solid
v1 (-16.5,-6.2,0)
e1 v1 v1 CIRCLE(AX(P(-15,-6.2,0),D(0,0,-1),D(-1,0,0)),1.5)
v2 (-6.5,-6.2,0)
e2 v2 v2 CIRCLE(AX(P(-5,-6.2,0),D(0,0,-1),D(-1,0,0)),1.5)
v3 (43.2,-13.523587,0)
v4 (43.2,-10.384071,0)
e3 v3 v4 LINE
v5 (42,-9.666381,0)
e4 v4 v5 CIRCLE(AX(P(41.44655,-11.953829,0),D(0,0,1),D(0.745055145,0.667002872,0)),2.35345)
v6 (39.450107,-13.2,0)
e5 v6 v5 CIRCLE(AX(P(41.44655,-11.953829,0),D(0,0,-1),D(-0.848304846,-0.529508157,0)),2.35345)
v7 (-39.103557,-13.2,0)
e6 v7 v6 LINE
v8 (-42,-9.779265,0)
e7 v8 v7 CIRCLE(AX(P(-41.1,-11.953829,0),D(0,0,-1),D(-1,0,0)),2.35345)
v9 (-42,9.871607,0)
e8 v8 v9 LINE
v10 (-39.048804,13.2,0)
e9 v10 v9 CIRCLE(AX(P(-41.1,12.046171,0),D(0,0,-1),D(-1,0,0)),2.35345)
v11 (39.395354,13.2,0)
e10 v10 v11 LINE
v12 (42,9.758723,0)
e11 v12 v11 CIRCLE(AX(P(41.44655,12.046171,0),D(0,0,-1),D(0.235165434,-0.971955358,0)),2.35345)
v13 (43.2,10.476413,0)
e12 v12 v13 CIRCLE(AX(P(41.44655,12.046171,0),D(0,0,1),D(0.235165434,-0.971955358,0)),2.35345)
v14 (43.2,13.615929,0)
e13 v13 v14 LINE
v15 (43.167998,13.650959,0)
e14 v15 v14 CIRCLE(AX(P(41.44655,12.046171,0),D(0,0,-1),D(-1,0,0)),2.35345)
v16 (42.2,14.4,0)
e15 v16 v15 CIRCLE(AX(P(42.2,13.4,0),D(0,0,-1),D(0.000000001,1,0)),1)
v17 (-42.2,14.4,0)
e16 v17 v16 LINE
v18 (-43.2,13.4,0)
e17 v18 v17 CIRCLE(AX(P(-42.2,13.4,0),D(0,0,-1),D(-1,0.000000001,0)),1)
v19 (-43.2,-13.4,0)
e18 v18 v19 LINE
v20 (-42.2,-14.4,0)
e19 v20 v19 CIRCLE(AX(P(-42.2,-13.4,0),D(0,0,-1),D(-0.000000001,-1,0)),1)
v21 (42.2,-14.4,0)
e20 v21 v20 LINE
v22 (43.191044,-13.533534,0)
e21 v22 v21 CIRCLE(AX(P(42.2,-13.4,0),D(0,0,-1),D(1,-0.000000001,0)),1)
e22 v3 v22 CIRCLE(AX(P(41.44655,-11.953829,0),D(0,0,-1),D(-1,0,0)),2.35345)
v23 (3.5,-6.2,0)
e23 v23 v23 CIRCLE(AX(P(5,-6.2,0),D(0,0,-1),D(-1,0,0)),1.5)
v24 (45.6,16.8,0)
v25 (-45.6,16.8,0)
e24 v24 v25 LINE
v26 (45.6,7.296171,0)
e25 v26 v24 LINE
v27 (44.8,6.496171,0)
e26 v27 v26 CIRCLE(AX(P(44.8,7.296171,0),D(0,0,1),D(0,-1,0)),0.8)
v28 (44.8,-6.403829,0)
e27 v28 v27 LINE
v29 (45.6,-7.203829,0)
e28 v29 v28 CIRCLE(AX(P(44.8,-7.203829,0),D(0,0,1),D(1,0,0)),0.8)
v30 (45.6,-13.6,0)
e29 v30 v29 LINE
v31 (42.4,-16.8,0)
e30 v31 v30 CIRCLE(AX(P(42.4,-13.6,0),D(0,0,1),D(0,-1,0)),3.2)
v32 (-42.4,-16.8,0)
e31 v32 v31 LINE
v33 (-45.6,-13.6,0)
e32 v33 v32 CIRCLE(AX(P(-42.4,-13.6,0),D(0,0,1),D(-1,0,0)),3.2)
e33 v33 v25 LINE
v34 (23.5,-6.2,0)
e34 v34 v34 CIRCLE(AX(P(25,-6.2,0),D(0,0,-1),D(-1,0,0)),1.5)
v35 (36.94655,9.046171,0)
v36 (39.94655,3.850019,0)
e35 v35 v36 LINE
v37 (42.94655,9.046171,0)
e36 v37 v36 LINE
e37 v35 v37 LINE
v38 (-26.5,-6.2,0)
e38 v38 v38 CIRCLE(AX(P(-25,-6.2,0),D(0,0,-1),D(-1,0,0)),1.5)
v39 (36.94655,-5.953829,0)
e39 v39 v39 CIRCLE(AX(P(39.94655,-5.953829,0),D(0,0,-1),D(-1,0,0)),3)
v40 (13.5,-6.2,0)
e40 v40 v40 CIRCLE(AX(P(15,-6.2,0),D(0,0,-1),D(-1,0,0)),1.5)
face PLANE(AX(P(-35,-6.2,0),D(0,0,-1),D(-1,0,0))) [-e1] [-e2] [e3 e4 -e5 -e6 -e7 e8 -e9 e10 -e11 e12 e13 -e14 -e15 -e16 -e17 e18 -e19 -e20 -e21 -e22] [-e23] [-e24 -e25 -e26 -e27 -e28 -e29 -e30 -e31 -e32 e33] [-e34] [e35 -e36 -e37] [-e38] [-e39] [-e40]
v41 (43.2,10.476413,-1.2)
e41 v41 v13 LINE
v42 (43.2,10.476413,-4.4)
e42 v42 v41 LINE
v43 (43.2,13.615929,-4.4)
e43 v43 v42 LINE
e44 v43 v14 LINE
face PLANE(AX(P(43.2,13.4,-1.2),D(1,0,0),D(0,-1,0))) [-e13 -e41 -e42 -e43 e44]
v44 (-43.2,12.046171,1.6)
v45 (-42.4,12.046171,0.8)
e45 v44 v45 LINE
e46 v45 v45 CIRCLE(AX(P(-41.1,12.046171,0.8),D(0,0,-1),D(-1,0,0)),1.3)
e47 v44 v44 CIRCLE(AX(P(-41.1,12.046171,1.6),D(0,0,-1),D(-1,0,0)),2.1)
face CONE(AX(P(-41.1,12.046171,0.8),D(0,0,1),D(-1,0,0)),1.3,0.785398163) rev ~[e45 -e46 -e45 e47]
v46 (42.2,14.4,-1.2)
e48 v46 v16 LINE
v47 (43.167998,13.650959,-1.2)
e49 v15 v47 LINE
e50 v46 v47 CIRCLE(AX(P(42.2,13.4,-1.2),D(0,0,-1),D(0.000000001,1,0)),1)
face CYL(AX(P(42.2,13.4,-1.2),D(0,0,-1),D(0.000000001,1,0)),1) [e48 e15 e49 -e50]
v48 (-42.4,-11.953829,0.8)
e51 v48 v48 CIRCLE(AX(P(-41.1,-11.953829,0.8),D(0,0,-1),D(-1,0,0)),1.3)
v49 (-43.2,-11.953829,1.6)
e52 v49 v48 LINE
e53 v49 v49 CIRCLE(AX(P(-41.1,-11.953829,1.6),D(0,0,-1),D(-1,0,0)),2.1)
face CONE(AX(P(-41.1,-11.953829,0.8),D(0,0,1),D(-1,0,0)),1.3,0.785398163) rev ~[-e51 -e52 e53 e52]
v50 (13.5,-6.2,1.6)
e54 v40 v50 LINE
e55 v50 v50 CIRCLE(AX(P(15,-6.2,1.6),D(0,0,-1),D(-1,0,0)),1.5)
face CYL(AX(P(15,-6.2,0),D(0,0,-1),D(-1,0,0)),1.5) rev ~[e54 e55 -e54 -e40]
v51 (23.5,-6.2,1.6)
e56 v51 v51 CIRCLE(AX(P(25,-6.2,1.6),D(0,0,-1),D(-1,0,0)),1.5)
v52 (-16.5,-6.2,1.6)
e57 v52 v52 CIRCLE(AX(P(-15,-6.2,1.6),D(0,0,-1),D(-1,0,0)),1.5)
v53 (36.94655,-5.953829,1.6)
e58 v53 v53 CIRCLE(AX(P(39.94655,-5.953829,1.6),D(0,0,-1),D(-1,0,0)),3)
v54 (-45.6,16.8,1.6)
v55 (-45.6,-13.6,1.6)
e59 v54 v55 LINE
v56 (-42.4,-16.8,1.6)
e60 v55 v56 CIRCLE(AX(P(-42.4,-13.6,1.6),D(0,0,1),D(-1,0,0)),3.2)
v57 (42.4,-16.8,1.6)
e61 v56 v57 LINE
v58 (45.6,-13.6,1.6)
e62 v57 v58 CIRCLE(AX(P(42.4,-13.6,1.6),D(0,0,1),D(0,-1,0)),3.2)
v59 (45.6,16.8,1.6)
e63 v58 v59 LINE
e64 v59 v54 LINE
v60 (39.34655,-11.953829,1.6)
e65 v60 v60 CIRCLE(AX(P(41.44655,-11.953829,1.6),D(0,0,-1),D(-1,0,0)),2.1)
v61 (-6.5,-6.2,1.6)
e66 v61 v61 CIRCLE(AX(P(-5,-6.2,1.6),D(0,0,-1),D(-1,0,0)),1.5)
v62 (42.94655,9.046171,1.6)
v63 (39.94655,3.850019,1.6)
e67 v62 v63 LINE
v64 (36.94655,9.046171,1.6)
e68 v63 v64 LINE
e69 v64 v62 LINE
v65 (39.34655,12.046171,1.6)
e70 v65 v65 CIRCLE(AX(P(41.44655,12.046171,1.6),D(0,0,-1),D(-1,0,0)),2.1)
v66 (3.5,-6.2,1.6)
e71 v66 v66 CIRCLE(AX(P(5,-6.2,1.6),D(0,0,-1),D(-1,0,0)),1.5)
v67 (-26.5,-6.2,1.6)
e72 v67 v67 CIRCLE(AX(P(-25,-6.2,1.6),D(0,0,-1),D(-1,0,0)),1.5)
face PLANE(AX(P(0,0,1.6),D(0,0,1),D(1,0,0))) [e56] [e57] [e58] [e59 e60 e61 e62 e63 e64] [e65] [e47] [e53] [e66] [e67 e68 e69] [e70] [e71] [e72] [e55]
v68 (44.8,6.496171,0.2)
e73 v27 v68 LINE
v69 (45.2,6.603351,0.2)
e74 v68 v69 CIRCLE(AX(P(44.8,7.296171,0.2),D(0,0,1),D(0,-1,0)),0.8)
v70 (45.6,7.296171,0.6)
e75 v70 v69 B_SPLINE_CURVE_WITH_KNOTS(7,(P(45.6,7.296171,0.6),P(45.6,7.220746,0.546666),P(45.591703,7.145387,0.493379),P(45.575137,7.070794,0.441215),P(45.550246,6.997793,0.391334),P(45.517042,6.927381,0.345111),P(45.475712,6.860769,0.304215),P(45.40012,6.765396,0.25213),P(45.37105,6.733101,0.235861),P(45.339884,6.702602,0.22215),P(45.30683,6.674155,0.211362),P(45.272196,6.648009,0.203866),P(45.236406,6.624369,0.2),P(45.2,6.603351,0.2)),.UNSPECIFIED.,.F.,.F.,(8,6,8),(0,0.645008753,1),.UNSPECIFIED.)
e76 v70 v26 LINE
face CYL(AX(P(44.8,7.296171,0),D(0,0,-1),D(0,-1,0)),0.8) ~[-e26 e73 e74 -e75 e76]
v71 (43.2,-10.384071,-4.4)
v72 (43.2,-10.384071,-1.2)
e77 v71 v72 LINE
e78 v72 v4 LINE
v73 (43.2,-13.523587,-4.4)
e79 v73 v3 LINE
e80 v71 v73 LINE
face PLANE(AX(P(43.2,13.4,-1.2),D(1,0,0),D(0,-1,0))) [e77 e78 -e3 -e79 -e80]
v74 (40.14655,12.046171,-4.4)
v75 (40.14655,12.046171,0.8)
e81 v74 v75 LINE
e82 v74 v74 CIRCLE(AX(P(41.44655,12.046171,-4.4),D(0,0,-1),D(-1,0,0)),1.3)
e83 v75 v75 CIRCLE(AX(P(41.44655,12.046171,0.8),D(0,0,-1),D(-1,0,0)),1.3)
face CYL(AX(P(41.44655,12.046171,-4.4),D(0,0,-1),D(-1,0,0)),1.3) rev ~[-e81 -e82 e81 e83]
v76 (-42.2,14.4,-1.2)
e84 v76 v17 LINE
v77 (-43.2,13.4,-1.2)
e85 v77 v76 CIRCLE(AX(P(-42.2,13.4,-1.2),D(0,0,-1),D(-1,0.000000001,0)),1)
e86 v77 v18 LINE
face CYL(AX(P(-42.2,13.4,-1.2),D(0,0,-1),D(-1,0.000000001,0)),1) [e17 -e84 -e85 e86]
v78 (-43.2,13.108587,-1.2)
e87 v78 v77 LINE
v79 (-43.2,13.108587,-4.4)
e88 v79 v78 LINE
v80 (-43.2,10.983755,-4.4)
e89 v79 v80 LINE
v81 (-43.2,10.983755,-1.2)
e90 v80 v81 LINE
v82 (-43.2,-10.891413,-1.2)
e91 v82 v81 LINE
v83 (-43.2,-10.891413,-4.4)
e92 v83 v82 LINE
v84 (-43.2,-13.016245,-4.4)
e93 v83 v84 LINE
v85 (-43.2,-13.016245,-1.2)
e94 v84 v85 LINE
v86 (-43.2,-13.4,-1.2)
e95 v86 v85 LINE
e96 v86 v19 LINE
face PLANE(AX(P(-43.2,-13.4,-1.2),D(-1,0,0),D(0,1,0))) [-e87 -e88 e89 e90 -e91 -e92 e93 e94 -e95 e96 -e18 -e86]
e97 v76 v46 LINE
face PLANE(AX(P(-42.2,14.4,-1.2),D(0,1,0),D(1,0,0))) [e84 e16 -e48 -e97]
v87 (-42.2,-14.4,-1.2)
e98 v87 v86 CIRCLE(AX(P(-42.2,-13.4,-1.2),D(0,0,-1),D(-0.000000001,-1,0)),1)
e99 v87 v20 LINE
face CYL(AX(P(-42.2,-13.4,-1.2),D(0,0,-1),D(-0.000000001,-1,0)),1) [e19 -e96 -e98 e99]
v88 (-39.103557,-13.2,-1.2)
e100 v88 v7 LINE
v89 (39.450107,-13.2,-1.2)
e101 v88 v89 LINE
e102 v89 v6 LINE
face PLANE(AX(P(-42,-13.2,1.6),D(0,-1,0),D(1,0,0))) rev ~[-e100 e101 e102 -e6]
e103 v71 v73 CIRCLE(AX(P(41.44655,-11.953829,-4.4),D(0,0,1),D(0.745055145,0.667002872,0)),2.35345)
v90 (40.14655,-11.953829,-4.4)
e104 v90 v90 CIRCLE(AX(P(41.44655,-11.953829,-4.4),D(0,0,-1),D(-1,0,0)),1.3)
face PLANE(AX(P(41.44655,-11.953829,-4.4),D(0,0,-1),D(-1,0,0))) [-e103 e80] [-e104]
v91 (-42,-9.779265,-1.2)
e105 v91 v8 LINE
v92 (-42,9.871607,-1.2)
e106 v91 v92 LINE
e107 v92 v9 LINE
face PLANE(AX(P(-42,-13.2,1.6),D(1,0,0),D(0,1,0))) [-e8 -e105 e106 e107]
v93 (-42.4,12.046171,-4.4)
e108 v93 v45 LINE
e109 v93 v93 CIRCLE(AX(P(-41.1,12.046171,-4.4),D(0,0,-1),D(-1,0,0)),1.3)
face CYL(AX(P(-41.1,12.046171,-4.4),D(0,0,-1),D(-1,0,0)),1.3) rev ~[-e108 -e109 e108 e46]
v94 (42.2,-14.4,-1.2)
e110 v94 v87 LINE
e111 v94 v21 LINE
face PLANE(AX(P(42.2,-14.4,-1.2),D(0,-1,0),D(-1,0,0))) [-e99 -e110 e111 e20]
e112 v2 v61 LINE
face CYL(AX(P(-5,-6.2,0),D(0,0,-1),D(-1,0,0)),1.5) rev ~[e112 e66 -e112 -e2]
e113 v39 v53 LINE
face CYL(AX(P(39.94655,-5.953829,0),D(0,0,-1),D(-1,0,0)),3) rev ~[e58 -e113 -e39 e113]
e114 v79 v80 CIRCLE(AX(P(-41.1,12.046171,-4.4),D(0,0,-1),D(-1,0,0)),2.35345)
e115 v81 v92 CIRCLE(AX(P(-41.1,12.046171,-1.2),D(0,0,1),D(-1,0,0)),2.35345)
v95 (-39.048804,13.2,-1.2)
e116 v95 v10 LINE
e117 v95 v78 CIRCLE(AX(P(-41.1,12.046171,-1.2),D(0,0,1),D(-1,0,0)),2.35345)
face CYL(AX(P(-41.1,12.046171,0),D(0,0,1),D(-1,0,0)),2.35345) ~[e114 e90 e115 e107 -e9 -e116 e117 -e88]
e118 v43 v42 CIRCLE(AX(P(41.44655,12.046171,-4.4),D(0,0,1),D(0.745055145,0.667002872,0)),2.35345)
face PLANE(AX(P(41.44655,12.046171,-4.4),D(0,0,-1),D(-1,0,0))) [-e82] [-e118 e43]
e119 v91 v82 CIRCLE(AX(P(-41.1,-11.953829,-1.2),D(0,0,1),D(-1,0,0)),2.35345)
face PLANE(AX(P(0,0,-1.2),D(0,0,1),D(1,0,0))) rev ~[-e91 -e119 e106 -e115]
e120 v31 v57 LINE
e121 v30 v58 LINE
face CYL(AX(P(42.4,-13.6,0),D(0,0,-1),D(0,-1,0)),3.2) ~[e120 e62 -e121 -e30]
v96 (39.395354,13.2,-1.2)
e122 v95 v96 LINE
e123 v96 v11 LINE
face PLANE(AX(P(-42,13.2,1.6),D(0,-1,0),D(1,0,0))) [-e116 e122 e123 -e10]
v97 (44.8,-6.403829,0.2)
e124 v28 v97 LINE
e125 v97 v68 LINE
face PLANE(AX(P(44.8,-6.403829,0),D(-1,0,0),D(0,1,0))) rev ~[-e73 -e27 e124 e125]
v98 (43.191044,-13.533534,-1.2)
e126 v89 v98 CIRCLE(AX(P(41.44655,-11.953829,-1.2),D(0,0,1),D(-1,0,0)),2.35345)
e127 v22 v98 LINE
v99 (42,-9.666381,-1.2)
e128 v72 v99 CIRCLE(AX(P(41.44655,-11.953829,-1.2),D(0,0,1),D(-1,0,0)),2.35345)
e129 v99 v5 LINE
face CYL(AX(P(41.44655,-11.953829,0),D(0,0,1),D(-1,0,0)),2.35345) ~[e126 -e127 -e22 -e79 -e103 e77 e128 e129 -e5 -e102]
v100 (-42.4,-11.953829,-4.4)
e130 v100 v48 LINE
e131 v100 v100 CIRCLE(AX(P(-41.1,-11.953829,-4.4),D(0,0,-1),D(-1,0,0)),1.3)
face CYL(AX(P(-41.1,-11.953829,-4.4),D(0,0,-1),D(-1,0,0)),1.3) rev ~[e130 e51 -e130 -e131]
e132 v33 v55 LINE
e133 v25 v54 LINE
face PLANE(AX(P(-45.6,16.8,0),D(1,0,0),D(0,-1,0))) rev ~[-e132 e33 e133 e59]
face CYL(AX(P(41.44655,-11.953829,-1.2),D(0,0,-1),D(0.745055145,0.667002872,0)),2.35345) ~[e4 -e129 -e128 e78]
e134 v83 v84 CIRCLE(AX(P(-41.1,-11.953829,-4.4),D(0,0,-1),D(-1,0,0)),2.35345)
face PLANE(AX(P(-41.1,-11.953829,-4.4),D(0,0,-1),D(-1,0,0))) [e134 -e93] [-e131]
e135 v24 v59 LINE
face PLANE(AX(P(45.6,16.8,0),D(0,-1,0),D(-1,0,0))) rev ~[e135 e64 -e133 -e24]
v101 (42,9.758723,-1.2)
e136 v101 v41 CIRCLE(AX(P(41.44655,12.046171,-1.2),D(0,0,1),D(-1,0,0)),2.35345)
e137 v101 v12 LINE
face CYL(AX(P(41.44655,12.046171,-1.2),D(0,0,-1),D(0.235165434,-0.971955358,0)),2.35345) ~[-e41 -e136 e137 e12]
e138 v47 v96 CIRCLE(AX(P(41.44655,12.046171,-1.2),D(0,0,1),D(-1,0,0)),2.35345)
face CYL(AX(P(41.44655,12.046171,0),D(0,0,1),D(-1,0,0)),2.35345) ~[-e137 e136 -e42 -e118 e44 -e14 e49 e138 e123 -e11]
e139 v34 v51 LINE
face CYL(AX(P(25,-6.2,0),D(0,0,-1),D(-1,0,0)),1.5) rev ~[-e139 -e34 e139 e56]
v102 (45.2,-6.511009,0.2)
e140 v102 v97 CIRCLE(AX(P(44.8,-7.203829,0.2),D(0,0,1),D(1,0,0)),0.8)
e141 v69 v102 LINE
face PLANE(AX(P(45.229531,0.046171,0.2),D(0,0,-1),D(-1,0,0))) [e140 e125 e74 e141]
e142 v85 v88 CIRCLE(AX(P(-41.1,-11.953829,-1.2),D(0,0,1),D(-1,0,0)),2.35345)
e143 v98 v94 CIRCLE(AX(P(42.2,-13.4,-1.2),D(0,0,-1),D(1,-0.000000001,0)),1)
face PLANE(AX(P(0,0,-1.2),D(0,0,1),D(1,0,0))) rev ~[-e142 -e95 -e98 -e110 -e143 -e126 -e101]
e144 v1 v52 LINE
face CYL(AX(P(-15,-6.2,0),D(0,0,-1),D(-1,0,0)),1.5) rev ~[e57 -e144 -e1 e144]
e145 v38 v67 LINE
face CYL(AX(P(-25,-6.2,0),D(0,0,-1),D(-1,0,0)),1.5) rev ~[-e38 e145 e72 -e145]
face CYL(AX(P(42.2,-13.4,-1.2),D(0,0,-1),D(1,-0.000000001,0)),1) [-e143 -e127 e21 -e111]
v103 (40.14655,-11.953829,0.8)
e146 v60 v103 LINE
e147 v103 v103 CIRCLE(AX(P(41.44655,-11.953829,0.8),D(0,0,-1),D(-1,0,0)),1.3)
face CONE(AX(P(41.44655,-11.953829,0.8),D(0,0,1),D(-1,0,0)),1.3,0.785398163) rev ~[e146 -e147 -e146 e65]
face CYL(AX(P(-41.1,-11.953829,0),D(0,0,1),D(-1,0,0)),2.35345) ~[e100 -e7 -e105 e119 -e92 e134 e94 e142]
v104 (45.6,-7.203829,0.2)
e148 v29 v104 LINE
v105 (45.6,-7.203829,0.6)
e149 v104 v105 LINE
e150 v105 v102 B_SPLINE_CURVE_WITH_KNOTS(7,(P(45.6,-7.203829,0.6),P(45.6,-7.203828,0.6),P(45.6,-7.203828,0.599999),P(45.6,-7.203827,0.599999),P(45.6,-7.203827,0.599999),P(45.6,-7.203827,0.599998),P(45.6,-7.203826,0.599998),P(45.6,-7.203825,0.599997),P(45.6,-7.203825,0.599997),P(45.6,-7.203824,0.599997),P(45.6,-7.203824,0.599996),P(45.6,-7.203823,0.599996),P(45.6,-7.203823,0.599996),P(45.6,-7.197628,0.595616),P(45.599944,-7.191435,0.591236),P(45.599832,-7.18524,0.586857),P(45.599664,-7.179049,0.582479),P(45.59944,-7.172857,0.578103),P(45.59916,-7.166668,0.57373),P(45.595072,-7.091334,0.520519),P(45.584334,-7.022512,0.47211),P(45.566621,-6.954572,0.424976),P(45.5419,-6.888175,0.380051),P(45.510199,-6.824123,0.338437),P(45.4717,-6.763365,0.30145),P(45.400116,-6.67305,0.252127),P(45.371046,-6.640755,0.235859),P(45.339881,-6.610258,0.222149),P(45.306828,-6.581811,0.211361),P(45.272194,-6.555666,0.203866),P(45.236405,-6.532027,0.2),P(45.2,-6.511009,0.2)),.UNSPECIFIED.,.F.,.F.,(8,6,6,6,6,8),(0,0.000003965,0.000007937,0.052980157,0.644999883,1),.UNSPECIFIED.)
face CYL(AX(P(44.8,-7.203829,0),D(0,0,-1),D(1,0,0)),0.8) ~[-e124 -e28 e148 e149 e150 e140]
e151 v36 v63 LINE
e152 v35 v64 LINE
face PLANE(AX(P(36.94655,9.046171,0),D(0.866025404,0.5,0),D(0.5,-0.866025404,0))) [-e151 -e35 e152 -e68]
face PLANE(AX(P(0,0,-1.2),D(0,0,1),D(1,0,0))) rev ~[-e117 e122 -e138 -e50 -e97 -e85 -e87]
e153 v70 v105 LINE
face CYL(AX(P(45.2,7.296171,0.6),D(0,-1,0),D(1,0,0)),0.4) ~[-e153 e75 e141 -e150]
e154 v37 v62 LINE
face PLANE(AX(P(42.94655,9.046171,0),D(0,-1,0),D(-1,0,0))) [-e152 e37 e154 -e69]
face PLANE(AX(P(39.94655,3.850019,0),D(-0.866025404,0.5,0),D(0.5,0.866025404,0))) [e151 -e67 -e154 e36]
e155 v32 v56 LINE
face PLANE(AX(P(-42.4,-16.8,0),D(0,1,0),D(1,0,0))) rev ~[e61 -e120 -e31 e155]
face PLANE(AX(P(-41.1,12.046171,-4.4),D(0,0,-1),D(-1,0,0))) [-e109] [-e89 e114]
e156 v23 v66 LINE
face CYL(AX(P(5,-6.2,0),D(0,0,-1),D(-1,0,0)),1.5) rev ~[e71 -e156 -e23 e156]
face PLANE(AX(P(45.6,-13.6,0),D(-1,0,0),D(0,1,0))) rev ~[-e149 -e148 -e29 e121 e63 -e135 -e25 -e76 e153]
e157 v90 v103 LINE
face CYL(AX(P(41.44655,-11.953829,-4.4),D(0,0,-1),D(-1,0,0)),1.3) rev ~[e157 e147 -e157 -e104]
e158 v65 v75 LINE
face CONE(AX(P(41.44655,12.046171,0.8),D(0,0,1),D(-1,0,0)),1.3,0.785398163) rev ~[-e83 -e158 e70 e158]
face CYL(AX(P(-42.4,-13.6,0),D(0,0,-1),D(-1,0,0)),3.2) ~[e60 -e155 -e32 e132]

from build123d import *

# Parameters (mm, degrees)
EXTRUDE_1_DEPTH     = 1.6
SKETCH_3_W          = 84
SKETCH_3_H          = 26.4
EXTRUDE_1_2_DEPTH   = 2.8
CUT_EXTRUDE_1_DEPTH = 1.2
SKETCH_8_R          = 2.35345012
EXTRUDE_2_DEPTH     = 4.4
CUT_EXTRUDE_2_DEPTH = 0.2
FILLET_2_R          = 0.4
SKETCH_10_W         = 2.4
SKETCH_10_H         = 27.704592787
SKETCH_10_H_2       = 28.279400909
CUT_EXTRUDE_3_DEPTH = 12
SKETCH_11_R         = 1.3
CUT_EXTRUDE_4_DEPTH = 12
CHAMFER_1_SIZE      = 0.8
SKETCH_12_R         = 1.5
CUT_EXTRUDE_5_DEPTH = 12
SKETCH_13_R         = 3
CUT_EXTRUDE_6_DEPTH = 12
CUT_EXTRUDE_7_DEPTH = 1.2
SKETCH_15_R         = 1.5
EXTRUDE_4_DEPTH     = 1.6


with BuildPart() as part:
    # Эскиз2 → Extrude 1 (new body)
    with BuildSketch(Plane.XY):
        with BuildLine():
            Line((45.6, -13.6), (45.6, -7.203828964))
            Line((45.6, -7.203828964), (45.6, 7.296171036))
            Line((45.6, 7.296171036), (45.6, 16.8))
            Line((45.6, 16.8), (42.6, 16.8))
            Line((42.6, 16.8), (39.6, 16.8))
            Line((39.6, 16.8), (-39.6, 16.8))
            Line((-39.6, 16.8), (-42.6, 16.8))
            Line((-42.6, 16.8), (-45.6, 16.8))
            Line((-45.6, 16.8), (-45.6, -13.6))
            ThreePointArc((-45.6, -13.6), (-44.6627417, -15.8627417), (-42.4, -16.8))
            Line((-42.4, -16.8), (42.4, -16.8))
            ThreePointArc((42.4, -16.8), (44.6627417, -15.8627417), (45.6, -13.6))
        make_face()
    extrude(amount=EXTRUDE_1_DEPTH)

    # Эскиз3 → Extrude 1 2 (add)
    with BuildSketch(Plane.XY.offset(1.6)):
        with BuildLine():
            Line((-42.2, -15), (42.2, -15))
            ThreePointArc((42.2, -15), (43.33137085, -14.53137085), (43.8, -13.4))
            Line((43.8, -13.4), (43.8, 13.4))
            ThreePointArc((43.8, 13.4), (43.33137085, 14.53137085), (42.2, 15))
            Line((42.2, 15), (-42.2, 15))
            ThreePointArc((-42.2, 15), (-43.33137085, 14.53137085), (-43.8, 13.4))
            Line((-43.8, 13.4), (-43.8, -13.4))
            ThreePointArc((-43.8, -13.4), (-43.33137085, -14.53137085), (-42.2, -15))
        make_face()
        Rectangle(SKETCH_3_W, SKETCH_3_H, mode=Mode.SUBTRACT)
    extrude(amount=-EXTRUDE_1_2_DEPTH)

    # Эскиз4 → Вырез-Вытянуть-Тонкостенный1 (cut)
    with BuildSketch(Plane(origin=(0, 0, -1.2), x_dir=(-1, 0, 0), z_dir=(0, 0, -1))):
        with BuildLine():
            Line((-43.8, 13.4), (-43.8, -13.4))
            ThreePointArc((-43.8, -13.4), (-43.33137085, -14.53137085), (-42.2, -15))
            Line((-42.2, -15), (42.2, -15))
            ThreePointArc((42.2, -15), (43.33137085, -14.53137085), (43.8, -13.4))
            Line((43.8, -13.4), (43.8, 13.4))
            ThreePointArc((43.8, 13.4), (43.33137085, 14.53137085), (42.2, 15))
            Line((42.2, 15), (-42.2, 15))
            ThreePointArc((-42.2, 15), (-43.33137085, 14.53137085), (-43.8, 13.4))
        make_face()
        with BuildLine():
            Line((-43.2, 13.4), (-43.2, -13.4))
            ThreePointArc((-43.2, -13.4), (-42.907106781, -14.107106781), (-42.2, -14.4))
            Line((-42.2, -14.4), (42.2, -14.4))
            ThreePointArc((42.2, -14.4), (42.907106781, -14.107106781), (43.2, -13.4))
            Line((43.2, -13.4), (43.2, 13.4))
            ThreePointArc((43.2, 13.4), (42.907106781, 14.107106781), (42.2, 14.4))
            Line((42.2, 14.4), (-42.2, 14.4))
            ThreePointArc((-42.2, 14.4), (-42.907106781, 14.107106781), (-43.2, 13.4))
        make_face(mode=Mode.SUBTRACT)
    extrude(amount=-CUT_EXTRUDE_1_DEPTH, mode=Mode.SUBTRACT)

    # Эскиз8 → Бобышка-Вытянуть2 (add)
    with BuildSketch(Plane(origin=(0, 0, 0), x_dir=(-1, 0, 0), z_dir=(0, 0, -1))):
        with Locations((-41.44654988, 12.046171036)):
            Circle(SKETCH_8_R)
        with Locations((-41.44654988, -11.953828964)):
            Circle(SKETCH_8_R)
        with Locations((41.1, 12.046171036)):
            Circle(SKETCH_8_R)
        with Locations((41.1, -11.953828964)):
            Circle(SKETCH_8_R)
    extrude(amount=EXTRUDE_2_DEPTH)

    # Эскиз9 → Вырез-Вытянуть2 (cut)
    with BuildSketch(Plane(origin=(0, 0, 0), x_dir=(-1, 0, 0), z_dir=(0, 0, -1))):
        with BuildLine():
            Line((-44.8, -6.403828964), (-44.8, 6.496171036))
            ThreePointArc((-44.8, 6.496171036), (-45.365685425, 6.730485611), (-45.6, 7.296171036))
            Line((-45.6, 7.296171036), (-45.6, -7.203828964))
            ThreePointArc((-45.6, -7.203828964), (-45.365685425, -6.638143539), (-44.8, -6.403828964))
        make_face()
    extrude(amount=-CUT_EXTRUDE_2_DEPTH, mode=Mode.SUBTRACT)

    # Скругление2
    fillet_2_edges = [part.edges().sort_by_distance(p)[0] for p in [
        (45.6, 0.046171036, 0.2),
    ]]
    fillet(fillet_2_edges, radius=FILLET_2_R)

    # Эскиз10 → Вырез-Вытянуть3 (cut)
    with BuildSketch(Plane(origin=(0, 0, 0), x_dir=(-1, 0, 0), z_dir=(0, 0, -1))):
        with Locations((-44.4, 0.252296393)):
            Rectangle(SKETCH_10_W, SKETCH_10_H)
        with Locations((44.4, 0.539700455)):
            Rectangle(SKETCH_10_W, SKETCH_10_H_2)
    extrude(amount=CUT_EXTRUDE_3_DEPTH, mode=Mode.SUBTRACT)

    # Эскиз11 → Вырез-Вытянуть4 (cut)
    with BuildSketch(Plane(origin=(0, 0, -4.4), x_dir=(-1, 0, 0), z_dir=(0, 0, -1))):
        with Locations((-41.44654988, 12.046171036)):
            Circle(SKETCH_11_R)
        with Locations((-41.44654988, -11.953828964)):
            Circle(SKETCH_11_R)
        with Locations((41.1, -11.953828964)):
            Circle(SKETCH_11_R)
        with Locations((41.1, 12.046171036)):
            Circle(SKETCH_11_R)
    extrude(amount=-CUT_EXTRUDE_4_DEPTH, mode=Mode.SUBTRACT)

    # Фаска1
    chamfer_1_edges = [part.edges().sort_by_distance(p)[0] for p in [
        (-39.8, 12.046171036, 1.6),
        (-39.8, -11.953828964, 1.6),
        (42.74654988, -11.953828964, 1.6),
        (42.74654988, 12.046171036, 1.6),
    ]]
    chamfer(chamfer_1_edges, length=CHAMFER_1_SIZE)

    # Эскиз12 → Вырез-Вытянуть5 (cut)
    with BuildSketch(Plane(origin=(0, 0, 0), x_dir=(-1, 0, 0), z_dir=(0, 0, -1))):
        with Locations((-35, -6.2)):
            Circle(SKETCH_12_R)
        with Locations((-25, -6.2)):
            Circle(SKETCH_12_R)
        with Locations((-15, -6.2)):
            Circle(SKETCH_12_R)
        with Locations((-5, -6.2)):
            Circle(SKETCH_12_R)
        with Locations((5, -6.2)):
            Circle(SKETCH_12_R)
        with Locations((15, -6.2)):
            Circle(SKETCH_12_R)
        with Locations((25, -6.2)):
            Circle(SKETCH_12_R)
        with Locations((35, -6.2)):
            Circle(SKETCH_12_R)
    extrude(amount=-CUT_EXTRUDE_5_DEPTH, mode=Mode.SUBTRACT)

    # Эскиз13 → Вырез-Вытянуть6 (cut)
    with BuildSketch(Plane(origin=(0, 0, 0), x_dir=(-1, 0, 0), z_dir=(0, 0, -1))):
        with Locations((-39.94654988, -5.953828964)):
            Circle(SKETCH_13_R)
        Polygon((-42.94654988, 9.046171036), (-36.94654988, 9.046171036), (-39.94654988, 3.850018614), align=None)
    extrude(amount=-CUT_EXTRUDE_6_DEPTH, mode=Mode.SUBTRACT)

    # Эскиз14 → Вырез-Вытянуть7 (cut)
    with BuildSketch(Plane(origin=(0, 0, -1.2), x_dir=(-1, 0, 0), z_dir=(0, 0, -1))):
        with BuildLine():
            Line((-42, -9.666380509), (-42, 9.758722582))
            ThreePointArc((-42, 9.758722582), (-42.654530459, 10.026391249), (-43.2, 10.476413047))
            Line((-43.2, 10.476413047), (-43.2, -10.384070975))
            ThreePointArc((-43.2, -10.384070975), (-42.654530459, -9.934049177), (-42, -9.666380509))
        make_face()
    extrude(amount=-CUT_EXTRUDE_7_DEPTH, mode=Mode.SUBTRACT)

    # Эскиз15 → Бобышка-Вытянуть4 (add)
    with BuildSketch(Plane(origin=(0, 0, 0), x_dir=(-1, 0, 0), z_dir=(0, 0, -1))):
        with Locations((35, -6.2)):
            Circle(SKETCH_15_R)
        with Locations((-35, -6.2)):
            Circle(SKETCH_15_R)
    extrude(amount=-EXTRUDE_4_DEPTH)


solid = part.part
